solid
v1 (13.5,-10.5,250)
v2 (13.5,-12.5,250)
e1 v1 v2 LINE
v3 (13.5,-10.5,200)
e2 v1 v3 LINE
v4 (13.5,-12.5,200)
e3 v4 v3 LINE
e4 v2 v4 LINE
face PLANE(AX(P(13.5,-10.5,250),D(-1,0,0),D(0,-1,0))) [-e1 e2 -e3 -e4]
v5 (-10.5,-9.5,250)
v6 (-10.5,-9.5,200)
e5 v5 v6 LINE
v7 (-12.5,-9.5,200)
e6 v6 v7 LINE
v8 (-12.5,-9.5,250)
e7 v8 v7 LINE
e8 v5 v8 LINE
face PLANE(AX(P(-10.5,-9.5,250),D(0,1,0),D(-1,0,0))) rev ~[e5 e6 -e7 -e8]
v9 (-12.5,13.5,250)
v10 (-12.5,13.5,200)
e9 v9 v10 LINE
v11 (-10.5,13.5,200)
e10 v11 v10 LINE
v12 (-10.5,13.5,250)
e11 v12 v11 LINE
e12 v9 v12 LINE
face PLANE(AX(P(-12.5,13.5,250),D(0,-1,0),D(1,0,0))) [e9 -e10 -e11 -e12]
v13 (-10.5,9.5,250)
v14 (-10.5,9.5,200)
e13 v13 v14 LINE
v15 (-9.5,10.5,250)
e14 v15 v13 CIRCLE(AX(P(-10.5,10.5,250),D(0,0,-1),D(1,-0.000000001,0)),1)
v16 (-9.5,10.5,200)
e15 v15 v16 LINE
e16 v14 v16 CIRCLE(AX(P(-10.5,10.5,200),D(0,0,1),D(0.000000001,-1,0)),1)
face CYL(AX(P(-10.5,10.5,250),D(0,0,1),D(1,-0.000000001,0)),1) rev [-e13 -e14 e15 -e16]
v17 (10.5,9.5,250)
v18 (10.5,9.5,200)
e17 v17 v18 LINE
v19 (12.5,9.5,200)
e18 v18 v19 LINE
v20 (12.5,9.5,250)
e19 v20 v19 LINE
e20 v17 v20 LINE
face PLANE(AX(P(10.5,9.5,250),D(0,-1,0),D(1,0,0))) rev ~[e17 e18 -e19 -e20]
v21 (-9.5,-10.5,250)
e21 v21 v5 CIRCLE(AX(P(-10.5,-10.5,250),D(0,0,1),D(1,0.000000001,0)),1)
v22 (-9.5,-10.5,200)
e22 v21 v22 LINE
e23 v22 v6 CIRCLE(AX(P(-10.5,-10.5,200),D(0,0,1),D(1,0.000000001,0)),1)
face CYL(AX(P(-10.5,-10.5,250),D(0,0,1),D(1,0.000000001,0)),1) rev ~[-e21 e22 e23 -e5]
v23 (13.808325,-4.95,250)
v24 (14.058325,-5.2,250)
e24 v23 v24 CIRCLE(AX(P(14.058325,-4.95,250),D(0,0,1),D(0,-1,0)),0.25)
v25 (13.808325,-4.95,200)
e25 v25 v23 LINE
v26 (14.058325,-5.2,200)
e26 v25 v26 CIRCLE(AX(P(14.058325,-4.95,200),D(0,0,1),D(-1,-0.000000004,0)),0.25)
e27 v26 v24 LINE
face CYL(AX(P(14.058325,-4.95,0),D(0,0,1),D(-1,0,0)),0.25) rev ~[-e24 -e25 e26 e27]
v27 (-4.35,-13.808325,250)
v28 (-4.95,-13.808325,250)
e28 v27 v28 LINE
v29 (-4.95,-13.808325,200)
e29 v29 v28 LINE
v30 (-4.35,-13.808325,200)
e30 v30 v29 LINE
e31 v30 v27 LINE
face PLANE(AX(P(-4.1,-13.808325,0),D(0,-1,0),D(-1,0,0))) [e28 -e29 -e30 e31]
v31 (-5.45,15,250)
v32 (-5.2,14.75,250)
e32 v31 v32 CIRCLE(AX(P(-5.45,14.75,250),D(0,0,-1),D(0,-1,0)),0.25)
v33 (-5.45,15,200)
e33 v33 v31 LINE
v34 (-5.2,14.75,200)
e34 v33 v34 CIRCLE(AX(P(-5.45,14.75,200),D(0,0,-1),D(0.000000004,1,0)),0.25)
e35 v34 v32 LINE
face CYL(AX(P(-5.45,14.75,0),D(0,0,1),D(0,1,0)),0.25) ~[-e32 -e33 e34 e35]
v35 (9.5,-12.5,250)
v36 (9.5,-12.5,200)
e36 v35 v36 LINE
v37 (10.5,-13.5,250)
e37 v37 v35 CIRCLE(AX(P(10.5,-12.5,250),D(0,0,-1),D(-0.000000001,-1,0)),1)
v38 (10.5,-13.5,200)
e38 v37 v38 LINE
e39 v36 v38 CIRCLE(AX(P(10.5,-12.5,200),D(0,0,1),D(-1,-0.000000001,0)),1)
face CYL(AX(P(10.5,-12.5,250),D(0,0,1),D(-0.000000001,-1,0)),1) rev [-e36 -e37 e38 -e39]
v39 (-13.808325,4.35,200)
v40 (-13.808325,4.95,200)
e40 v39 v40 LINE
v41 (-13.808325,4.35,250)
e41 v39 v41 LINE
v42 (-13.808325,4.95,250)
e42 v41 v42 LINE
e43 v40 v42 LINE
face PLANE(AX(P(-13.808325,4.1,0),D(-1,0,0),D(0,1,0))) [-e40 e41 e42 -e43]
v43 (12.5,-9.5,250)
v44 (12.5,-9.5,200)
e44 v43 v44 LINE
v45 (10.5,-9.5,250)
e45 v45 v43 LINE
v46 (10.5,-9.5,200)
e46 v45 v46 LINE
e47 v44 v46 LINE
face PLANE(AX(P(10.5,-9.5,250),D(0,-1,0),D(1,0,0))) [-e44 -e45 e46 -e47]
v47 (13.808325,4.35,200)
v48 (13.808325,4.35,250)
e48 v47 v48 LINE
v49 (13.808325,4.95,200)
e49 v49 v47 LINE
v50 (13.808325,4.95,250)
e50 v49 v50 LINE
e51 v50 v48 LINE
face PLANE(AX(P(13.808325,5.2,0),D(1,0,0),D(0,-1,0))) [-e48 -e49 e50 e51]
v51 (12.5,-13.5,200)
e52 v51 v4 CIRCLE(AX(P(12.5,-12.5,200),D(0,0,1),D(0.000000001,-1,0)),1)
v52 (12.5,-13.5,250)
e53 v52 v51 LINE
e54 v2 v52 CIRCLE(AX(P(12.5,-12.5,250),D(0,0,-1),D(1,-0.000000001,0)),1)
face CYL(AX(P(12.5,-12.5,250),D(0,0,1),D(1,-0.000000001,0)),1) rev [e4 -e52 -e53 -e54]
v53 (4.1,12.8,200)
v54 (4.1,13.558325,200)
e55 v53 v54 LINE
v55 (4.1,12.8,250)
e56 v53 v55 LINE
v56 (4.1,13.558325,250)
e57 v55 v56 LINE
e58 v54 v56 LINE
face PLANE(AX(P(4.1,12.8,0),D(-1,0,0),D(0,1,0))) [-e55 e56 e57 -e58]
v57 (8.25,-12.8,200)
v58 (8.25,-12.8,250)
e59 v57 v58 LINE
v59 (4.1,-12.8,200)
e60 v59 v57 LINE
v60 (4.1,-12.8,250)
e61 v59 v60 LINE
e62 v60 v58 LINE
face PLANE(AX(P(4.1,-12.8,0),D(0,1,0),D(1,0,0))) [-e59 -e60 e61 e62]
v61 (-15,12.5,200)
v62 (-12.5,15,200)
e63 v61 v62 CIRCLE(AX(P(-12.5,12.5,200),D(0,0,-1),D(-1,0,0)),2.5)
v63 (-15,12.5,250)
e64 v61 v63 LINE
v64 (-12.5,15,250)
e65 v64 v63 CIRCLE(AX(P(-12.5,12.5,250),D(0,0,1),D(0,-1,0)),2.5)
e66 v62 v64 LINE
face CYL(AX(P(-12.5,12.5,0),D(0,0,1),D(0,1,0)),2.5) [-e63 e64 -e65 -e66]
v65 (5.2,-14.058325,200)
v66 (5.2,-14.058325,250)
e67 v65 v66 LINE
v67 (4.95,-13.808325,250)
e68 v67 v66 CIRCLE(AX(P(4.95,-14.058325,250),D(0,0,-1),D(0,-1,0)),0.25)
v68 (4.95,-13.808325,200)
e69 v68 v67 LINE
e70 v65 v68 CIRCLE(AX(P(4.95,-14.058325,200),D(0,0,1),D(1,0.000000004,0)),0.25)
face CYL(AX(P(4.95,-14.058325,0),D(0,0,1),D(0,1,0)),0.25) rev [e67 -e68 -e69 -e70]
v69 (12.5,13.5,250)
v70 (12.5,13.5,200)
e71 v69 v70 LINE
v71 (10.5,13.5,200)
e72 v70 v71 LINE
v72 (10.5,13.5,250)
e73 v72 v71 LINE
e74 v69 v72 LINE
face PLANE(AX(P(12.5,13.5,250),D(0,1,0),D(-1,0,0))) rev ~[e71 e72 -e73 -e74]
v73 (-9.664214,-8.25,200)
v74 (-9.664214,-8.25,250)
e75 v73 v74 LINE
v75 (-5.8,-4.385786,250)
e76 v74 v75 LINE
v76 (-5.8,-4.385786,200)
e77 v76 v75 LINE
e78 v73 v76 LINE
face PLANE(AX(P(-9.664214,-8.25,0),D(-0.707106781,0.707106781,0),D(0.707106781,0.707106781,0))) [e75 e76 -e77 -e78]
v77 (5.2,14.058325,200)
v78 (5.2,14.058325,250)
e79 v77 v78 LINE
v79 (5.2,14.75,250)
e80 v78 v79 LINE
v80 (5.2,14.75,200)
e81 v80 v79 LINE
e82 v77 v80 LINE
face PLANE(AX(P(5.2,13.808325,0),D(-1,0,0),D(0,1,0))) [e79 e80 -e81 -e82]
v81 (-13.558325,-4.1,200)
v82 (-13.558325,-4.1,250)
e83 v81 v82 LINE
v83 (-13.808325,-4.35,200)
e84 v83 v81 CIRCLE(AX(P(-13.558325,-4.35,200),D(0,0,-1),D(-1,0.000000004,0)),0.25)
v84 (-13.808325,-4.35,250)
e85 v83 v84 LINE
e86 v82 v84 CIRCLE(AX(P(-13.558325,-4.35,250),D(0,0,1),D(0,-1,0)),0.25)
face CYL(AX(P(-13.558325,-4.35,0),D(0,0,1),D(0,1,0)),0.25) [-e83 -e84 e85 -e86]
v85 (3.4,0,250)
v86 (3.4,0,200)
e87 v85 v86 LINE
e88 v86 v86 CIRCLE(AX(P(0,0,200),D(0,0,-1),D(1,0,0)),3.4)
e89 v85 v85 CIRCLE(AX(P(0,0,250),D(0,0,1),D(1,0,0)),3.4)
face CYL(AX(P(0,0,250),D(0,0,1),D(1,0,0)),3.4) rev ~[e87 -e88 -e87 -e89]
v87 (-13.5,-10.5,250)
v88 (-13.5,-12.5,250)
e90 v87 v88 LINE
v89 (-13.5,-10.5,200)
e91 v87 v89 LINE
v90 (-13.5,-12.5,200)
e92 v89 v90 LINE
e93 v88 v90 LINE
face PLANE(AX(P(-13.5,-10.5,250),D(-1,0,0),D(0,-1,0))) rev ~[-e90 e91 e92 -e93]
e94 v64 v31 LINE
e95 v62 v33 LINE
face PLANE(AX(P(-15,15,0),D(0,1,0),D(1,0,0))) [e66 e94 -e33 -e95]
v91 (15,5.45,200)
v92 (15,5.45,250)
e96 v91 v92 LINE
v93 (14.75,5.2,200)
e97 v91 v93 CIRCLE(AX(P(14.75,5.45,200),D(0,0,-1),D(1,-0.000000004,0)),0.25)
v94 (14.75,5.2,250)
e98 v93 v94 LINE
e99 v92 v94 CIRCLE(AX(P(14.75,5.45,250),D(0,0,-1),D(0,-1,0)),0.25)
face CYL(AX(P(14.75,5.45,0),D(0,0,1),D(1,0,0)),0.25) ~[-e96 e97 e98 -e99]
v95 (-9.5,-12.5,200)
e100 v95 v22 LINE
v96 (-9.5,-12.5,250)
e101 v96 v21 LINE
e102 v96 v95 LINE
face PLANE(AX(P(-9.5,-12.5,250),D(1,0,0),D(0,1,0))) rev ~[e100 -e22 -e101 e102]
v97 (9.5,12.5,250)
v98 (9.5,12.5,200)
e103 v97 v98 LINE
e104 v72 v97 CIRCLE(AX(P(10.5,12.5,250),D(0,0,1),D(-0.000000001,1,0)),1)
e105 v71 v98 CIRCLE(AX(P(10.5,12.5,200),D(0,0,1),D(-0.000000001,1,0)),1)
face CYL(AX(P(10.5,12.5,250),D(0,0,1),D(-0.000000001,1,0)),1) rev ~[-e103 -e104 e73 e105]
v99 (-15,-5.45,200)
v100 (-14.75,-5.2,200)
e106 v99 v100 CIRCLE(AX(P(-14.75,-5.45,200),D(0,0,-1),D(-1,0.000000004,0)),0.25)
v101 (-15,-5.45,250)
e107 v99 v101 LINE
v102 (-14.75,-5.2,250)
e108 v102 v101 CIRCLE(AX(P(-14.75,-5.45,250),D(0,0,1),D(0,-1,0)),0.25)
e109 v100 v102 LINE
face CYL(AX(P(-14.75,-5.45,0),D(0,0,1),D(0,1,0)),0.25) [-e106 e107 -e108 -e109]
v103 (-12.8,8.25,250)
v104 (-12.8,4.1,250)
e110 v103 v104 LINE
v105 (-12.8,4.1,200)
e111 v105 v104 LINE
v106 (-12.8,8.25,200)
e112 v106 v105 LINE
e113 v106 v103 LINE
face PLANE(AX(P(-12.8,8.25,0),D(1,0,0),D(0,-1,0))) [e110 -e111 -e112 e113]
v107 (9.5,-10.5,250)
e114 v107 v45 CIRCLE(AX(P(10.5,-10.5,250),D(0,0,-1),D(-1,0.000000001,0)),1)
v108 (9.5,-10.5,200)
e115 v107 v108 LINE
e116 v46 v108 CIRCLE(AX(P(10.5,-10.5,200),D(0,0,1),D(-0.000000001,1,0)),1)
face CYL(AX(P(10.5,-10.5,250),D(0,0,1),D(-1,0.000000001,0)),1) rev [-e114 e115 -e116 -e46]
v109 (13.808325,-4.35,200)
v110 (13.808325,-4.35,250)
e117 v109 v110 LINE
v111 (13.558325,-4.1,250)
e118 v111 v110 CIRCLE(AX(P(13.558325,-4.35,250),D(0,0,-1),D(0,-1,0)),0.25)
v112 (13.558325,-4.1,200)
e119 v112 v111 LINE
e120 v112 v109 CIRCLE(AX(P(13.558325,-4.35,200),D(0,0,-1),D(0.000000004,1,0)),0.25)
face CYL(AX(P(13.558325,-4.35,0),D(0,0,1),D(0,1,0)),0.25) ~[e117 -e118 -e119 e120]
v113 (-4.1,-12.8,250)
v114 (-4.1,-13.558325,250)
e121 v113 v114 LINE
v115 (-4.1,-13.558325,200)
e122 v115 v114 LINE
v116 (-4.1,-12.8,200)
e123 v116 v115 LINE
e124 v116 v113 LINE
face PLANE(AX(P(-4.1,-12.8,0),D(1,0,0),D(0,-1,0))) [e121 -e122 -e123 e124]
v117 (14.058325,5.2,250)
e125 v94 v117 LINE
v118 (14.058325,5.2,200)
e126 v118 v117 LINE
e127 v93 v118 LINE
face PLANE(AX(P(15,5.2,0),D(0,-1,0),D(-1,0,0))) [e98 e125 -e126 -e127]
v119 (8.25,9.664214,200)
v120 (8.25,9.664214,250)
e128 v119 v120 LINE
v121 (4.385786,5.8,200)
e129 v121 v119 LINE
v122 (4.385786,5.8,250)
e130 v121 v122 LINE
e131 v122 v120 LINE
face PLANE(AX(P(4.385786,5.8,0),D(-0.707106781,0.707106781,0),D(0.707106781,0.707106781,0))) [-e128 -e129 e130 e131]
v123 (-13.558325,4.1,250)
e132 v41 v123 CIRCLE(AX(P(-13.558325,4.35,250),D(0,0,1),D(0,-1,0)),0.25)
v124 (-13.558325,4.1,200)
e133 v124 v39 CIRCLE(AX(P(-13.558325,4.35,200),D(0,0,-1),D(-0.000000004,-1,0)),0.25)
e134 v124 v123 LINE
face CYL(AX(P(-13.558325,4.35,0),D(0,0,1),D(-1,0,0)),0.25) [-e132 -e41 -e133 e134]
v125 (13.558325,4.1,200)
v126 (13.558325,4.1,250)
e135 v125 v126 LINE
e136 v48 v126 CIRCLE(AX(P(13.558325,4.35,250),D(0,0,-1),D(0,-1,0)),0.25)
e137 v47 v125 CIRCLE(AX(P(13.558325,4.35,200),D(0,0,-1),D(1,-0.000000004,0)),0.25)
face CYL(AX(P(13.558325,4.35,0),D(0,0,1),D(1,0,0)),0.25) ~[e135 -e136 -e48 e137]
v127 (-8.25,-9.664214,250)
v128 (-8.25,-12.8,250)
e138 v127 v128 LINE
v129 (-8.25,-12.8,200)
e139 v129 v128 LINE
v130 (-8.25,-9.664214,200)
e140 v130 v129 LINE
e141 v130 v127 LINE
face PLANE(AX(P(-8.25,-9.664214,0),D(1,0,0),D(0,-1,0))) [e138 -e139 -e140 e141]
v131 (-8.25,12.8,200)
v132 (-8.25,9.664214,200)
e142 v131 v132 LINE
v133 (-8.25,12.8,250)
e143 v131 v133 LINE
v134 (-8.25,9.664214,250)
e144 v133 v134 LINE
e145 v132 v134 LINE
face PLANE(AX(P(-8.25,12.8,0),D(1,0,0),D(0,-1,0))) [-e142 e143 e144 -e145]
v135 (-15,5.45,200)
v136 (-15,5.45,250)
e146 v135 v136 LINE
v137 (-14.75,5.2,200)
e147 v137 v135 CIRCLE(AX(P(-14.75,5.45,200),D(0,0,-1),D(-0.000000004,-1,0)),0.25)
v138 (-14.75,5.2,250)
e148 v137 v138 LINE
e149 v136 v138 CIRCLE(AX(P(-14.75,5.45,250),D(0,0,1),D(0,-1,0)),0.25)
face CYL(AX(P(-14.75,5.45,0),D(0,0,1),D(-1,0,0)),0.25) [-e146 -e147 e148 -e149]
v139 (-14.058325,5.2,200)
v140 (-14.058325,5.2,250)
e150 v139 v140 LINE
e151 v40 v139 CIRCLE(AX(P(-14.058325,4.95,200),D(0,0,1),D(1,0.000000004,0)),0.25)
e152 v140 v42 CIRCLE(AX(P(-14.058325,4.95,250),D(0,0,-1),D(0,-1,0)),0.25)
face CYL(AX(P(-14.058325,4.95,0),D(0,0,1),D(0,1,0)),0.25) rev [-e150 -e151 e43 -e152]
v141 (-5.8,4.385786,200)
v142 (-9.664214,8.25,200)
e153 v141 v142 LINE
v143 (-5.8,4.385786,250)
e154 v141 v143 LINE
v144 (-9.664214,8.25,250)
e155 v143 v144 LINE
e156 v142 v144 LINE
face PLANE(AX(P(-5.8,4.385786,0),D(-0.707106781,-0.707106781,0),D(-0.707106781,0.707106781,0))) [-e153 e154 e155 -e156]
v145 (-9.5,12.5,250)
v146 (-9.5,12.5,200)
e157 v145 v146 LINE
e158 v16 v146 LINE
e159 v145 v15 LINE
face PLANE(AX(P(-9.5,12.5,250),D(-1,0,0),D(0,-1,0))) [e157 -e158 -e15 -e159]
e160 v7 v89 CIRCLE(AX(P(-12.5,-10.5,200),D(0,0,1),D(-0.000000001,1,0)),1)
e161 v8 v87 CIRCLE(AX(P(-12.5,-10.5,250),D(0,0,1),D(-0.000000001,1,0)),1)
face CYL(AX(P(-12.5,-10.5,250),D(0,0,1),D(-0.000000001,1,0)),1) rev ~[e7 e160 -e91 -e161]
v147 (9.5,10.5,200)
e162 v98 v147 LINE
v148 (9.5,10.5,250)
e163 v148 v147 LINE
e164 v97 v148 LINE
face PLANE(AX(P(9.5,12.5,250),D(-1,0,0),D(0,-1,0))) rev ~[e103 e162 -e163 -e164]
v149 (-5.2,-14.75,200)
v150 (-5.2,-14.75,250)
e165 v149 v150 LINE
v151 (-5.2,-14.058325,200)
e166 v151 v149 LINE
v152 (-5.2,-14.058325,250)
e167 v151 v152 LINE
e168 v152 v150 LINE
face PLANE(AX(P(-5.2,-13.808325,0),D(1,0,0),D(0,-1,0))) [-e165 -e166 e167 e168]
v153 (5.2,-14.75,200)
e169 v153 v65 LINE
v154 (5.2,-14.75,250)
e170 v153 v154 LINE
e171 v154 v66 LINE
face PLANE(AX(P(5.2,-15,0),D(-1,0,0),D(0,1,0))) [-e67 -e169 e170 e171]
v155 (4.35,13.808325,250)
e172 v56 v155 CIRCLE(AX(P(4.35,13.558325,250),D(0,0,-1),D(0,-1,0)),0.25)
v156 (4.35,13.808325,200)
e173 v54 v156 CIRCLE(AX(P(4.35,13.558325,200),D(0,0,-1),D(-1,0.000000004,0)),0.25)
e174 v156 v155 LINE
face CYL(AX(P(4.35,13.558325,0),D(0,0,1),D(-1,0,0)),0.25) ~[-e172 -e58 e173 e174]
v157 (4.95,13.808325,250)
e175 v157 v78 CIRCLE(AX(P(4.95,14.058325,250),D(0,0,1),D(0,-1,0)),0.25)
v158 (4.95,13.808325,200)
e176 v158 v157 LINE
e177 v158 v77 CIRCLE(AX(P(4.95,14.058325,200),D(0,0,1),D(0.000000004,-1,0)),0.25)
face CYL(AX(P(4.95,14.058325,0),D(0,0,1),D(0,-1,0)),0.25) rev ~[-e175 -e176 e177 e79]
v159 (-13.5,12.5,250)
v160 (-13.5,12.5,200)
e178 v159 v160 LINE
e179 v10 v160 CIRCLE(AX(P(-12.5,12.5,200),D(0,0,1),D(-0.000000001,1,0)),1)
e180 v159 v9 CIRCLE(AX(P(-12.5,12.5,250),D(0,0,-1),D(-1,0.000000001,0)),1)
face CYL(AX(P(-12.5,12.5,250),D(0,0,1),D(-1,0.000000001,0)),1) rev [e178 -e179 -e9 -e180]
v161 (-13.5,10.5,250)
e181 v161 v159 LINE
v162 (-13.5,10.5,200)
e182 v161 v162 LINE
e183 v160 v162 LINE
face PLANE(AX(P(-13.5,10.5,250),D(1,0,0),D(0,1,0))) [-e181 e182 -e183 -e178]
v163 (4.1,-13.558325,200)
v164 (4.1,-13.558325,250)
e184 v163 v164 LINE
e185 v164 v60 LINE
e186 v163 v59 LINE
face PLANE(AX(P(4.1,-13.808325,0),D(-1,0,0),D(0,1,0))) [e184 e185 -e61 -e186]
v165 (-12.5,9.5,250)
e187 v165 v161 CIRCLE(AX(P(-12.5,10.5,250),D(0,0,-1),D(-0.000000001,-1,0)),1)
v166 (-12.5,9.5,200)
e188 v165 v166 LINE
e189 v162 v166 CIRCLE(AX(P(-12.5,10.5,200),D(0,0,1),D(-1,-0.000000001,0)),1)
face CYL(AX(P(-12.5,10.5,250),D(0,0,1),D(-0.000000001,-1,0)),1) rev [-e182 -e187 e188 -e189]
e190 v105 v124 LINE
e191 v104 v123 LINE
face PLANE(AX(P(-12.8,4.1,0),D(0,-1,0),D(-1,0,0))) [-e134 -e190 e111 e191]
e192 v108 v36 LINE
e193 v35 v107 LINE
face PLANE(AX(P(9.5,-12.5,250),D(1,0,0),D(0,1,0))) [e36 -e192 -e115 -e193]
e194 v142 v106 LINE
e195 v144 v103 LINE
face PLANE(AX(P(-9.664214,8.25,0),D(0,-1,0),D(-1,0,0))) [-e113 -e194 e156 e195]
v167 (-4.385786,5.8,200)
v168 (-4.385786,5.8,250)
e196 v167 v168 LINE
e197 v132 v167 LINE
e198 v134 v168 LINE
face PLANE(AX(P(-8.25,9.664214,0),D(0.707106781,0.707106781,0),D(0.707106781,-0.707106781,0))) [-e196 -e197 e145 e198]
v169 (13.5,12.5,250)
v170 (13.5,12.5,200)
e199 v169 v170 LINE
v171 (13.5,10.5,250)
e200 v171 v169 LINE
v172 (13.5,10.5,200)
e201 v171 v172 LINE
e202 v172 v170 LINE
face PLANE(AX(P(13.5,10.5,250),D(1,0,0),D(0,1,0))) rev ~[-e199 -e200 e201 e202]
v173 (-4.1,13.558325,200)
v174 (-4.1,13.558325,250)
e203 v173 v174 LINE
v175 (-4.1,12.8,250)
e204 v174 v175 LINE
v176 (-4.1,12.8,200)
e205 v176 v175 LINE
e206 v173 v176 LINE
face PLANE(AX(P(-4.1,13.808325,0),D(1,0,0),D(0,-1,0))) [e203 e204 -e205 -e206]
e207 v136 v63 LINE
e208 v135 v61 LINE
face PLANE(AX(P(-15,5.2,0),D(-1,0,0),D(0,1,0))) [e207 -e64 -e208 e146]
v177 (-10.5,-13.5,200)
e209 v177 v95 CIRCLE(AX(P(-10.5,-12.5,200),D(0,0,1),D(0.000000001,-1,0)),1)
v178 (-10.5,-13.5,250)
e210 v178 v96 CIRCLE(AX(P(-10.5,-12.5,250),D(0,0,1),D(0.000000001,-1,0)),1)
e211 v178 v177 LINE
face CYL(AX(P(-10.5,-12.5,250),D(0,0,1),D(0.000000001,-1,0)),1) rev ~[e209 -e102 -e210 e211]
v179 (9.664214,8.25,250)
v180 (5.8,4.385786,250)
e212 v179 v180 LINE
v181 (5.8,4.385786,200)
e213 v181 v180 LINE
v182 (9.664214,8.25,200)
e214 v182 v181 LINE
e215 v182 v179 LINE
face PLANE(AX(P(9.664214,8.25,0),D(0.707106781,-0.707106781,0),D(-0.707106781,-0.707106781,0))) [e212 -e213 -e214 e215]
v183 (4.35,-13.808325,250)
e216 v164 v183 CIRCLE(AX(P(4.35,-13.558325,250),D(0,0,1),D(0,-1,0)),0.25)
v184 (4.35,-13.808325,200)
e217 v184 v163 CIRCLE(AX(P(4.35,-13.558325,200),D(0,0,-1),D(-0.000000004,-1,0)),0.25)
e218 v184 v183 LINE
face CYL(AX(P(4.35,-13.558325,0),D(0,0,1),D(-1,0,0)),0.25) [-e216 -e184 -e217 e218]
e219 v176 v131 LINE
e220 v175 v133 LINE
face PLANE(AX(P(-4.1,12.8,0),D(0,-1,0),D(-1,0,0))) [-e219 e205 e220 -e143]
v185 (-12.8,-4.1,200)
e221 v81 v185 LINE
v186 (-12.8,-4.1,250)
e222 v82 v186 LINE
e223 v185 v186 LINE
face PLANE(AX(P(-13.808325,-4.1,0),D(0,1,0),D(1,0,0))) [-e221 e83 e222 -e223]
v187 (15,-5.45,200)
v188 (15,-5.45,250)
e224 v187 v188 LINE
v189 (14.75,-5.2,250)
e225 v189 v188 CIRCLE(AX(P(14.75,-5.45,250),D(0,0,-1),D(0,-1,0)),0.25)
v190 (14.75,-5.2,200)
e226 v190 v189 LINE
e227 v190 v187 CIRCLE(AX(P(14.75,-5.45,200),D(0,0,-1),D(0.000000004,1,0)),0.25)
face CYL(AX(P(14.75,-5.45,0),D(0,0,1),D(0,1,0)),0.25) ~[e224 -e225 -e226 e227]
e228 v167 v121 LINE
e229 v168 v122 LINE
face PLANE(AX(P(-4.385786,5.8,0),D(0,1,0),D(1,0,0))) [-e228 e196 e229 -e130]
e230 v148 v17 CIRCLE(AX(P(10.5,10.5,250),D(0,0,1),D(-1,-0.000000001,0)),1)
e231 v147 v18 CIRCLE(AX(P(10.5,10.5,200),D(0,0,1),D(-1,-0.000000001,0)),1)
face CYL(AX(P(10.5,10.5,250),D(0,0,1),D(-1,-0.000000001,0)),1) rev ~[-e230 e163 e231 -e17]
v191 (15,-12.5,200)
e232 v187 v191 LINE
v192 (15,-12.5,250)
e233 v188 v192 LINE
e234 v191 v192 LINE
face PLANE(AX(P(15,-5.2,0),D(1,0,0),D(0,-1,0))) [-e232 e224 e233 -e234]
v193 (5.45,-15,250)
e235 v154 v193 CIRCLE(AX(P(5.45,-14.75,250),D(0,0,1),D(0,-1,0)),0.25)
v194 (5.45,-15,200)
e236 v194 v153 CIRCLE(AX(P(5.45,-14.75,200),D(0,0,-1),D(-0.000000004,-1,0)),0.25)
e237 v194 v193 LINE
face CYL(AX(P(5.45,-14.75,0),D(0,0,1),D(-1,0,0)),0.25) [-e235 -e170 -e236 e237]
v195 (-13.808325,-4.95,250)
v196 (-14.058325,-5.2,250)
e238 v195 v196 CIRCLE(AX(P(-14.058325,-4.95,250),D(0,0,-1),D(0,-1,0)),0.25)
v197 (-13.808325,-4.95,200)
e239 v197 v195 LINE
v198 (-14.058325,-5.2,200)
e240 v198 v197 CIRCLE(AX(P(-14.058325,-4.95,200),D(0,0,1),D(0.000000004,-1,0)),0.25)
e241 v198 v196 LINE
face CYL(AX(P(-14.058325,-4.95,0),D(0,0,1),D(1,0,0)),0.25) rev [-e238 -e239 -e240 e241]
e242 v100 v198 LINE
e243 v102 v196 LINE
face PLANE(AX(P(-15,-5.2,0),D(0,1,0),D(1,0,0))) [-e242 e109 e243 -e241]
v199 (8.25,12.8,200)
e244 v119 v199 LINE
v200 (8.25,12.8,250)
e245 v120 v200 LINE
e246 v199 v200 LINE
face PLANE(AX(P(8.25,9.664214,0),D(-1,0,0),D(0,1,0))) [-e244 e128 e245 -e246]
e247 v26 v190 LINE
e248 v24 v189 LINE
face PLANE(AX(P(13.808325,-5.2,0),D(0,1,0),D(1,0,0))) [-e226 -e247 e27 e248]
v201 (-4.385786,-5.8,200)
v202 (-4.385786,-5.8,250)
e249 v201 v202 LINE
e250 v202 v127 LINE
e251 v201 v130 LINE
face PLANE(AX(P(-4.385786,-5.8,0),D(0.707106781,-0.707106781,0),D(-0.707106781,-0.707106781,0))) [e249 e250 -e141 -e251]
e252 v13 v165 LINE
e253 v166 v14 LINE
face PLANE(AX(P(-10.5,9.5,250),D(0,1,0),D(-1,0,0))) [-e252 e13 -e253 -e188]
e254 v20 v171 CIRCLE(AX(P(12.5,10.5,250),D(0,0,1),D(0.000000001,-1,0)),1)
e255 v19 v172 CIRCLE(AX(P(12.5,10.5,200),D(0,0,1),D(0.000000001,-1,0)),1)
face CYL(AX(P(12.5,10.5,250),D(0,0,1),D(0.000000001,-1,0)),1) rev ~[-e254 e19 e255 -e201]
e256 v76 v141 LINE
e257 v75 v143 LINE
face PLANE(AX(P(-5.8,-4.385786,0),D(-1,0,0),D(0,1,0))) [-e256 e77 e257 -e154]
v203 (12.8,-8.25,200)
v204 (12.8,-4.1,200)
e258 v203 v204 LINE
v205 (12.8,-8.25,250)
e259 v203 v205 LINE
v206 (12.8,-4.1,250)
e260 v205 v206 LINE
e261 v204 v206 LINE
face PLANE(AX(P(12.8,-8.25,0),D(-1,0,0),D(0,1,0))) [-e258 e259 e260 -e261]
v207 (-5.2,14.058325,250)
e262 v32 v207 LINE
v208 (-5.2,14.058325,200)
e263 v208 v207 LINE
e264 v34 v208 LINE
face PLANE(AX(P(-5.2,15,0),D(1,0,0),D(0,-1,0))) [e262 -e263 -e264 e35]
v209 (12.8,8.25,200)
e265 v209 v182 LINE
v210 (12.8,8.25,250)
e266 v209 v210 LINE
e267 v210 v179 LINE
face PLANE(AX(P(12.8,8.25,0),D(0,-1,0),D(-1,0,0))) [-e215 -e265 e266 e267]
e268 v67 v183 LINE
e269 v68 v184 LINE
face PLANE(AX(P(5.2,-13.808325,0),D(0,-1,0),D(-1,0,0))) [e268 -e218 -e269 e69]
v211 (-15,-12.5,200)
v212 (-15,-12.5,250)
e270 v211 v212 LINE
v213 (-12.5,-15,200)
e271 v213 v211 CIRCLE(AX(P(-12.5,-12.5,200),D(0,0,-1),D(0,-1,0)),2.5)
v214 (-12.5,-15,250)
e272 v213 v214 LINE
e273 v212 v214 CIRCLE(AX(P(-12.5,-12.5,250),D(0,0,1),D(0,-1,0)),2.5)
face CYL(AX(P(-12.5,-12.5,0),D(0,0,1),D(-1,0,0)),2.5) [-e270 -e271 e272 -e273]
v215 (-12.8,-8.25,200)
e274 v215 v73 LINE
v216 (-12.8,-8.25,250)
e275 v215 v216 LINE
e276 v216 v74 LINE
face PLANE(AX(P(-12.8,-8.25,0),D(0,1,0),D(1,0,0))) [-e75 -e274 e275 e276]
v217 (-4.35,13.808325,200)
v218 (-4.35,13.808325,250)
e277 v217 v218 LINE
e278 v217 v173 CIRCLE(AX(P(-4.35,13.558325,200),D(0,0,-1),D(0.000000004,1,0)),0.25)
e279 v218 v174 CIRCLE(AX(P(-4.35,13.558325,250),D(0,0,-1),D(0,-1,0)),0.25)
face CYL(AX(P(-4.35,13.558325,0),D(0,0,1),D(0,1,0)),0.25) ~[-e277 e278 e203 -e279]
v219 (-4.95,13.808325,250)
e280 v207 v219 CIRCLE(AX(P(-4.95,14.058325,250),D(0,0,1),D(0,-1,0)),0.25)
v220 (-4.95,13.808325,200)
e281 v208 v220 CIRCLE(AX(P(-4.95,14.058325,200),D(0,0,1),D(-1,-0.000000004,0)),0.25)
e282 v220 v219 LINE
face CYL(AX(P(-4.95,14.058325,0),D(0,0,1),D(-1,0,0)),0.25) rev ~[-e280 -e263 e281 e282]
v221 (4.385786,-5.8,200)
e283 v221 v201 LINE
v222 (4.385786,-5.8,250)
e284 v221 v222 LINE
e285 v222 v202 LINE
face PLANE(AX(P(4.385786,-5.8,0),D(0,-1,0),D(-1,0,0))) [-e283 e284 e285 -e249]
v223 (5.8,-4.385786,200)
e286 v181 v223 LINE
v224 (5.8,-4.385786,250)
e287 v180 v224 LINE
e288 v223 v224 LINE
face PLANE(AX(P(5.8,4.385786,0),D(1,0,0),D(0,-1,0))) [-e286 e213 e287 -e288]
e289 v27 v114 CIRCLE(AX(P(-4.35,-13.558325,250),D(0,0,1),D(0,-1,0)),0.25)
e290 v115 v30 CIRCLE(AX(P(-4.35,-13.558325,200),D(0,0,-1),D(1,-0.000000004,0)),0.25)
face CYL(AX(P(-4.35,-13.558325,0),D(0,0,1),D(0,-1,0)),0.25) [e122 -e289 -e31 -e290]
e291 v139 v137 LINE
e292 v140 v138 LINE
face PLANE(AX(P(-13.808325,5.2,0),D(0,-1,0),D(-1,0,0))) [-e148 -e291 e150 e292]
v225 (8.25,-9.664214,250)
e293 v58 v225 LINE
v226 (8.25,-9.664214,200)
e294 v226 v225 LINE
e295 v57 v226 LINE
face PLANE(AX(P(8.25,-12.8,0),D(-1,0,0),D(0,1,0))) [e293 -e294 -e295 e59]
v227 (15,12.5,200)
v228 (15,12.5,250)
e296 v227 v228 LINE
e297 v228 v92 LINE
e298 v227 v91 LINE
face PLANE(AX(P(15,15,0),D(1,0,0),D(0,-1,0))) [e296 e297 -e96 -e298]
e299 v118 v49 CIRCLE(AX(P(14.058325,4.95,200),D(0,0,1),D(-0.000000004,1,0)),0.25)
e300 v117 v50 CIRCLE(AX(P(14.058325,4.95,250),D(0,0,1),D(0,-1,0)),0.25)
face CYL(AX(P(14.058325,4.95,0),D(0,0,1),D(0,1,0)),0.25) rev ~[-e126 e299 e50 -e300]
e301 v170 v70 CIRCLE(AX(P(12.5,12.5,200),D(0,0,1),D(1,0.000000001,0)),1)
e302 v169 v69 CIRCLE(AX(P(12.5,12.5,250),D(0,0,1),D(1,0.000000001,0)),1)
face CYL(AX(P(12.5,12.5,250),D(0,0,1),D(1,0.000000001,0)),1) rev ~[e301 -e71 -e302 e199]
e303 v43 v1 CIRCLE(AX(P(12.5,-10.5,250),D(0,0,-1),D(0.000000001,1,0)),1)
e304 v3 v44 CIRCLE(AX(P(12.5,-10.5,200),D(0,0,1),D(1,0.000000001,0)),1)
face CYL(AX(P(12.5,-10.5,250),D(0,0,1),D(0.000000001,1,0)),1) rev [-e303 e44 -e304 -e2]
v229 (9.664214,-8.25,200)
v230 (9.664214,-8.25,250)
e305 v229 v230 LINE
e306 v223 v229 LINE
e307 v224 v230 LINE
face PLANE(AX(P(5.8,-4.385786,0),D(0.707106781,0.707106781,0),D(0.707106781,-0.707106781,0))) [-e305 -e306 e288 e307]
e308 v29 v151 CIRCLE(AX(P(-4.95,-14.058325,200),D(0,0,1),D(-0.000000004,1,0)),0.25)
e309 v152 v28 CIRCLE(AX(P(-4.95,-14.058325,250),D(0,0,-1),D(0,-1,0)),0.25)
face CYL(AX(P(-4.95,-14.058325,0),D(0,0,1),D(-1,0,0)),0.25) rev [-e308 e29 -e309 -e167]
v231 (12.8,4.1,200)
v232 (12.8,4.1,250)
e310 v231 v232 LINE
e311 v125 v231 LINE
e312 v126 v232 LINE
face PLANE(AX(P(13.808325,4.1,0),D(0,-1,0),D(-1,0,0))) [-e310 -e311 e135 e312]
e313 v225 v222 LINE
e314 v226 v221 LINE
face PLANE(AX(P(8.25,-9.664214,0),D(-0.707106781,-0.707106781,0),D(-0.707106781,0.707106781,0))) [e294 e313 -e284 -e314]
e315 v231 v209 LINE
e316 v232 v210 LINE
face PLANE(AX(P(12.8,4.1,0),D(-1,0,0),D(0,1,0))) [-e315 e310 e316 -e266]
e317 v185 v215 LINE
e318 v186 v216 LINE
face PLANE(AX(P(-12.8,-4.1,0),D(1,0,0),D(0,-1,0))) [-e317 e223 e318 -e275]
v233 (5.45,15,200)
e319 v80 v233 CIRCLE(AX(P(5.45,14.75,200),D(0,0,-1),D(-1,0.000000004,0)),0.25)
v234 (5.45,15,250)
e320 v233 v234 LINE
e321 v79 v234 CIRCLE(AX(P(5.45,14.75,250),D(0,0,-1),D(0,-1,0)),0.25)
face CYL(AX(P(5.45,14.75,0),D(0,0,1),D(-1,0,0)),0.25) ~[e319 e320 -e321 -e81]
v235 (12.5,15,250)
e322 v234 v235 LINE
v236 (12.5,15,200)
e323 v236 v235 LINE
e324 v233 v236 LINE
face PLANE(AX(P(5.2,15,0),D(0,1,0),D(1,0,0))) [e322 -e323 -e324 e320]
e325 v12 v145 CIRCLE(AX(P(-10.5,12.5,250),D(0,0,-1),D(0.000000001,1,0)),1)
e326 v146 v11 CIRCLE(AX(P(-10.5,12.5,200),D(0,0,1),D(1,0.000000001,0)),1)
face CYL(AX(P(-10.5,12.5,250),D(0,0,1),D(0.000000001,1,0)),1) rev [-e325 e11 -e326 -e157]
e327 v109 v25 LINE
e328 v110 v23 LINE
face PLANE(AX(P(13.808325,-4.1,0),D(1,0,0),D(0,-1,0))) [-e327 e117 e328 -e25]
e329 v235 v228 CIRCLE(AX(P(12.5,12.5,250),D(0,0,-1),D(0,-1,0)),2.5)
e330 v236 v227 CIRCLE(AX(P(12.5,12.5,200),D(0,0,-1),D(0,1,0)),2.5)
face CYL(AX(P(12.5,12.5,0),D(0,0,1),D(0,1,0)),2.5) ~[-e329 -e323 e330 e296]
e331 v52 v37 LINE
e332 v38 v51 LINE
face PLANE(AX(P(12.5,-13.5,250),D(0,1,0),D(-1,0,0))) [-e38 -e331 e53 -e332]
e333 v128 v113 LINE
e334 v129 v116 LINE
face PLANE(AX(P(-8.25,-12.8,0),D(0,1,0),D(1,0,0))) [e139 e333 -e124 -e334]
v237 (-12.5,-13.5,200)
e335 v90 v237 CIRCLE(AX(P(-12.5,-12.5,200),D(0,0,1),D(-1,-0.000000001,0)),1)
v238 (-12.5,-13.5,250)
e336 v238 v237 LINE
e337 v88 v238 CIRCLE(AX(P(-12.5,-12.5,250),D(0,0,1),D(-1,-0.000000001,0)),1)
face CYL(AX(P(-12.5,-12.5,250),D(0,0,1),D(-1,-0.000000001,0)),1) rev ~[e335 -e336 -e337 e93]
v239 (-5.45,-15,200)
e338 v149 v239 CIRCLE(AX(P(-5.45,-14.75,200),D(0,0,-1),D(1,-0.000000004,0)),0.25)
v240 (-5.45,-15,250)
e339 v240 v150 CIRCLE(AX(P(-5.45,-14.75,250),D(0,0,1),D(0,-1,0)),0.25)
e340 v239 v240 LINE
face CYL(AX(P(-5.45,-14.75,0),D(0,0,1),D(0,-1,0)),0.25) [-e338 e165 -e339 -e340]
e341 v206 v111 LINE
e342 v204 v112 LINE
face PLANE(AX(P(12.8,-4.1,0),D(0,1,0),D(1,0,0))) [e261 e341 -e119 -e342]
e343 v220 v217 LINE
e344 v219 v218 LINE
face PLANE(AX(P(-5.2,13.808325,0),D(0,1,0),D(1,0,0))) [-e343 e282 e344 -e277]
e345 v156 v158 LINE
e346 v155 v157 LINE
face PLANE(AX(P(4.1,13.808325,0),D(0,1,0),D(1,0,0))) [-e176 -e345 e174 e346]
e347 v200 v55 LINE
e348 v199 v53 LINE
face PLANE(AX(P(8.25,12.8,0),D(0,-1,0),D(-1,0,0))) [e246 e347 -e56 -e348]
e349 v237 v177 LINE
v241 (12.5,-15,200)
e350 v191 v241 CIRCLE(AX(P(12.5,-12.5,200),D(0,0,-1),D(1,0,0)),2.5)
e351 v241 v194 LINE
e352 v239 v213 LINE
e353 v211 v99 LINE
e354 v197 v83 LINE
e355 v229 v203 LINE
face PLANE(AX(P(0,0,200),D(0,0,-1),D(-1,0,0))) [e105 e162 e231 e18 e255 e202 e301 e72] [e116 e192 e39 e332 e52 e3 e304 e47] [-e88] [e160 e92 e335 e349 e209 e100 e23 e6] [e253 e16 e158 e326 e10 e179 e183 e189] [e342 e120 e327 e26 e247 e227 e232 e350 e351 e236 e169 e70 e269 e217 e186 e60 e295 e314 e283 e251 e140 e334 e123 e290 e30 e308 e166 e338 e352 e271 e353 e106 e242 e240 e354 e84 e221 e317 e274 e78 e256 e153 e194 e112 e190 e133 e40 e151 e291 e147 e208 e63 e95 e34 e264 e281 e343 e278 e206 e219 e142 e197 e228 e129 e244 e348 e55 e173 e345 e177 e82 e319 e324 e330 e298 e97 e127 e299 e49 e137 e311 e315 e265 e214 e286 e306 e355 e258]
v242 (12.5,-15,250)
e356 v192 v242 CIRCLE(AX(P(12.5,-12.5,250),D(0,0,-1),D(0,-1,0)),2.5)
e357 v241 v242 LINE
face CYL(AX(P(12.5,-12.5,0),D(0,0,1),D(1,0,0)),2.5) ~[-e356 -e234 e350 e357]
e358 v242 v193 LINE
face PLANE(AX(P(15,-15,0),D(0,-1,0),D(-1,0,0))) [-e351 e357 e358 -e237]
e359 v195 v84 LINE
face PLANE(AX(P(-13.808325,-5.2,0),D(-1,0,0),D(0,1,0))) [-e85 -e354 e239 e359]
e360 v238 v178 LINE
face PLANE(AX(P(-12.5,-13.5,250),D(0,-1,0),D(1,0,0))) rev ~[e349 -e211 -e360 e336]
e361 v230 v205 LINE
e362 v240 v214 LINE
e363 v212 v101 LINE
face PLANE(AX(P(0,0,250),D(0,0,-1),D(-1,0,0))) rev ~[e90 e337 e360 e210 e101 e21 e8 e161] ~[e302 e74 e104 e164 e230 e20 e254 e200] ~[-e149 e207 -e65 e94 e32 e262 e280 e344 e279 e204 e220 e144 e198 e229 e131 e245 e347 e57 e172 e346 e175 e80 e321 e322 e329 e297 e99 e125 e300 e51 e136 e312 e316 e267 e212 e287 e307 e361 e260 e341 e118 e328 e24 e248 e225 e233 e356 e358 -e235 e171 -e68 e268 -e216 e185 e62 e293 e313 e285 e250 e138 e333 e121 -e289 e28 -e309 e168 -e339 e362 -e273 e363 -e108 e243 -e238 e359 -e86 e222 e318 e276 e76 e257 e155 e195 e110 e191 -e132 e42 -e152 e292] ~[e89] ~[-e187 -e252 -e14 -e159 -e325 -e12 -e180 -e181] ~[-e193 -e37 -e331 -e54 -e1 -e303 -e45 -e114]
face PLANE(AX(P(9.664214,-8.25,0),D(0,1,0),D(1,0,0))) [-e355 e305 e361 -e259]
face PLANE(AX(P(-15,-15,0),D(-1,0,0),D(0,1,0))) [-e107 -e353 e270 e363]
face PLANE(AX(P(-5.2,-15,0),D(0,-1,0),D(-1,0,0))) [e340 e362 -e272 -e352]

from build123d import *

# Parameters (mm, degrees)
BOSS_EXTRUDE1_DEPTH = 250
SKETCH2_R           = 3.4
CUT_EXTRUDE1_DEPTH  = 251.898385806
FILLET1_R           = 2.5
FILLET2_R           = 0.25
CUT_EXTRUDE3_START  = -200
SKETCH3_R           = 3.4
CUT_EXTRUDE3_DEPTH  = 200


with BuildPart() as part:
    # Sketch1 → Boss-Extrude1 (new body)
    with BuildSketch(Plane.XY):
        Polygon((-15, 15), (-5.2, 15), (-5.2, 13.808325472), (-4.1, 13.808325472), (-4.1, 12.8), (-8.25, 12.8), (-8.25, 9.664213562), (-4.385786438, 5.8), (4.385786438, 5.8), (8.25, 9.664213562), (8.25, 12.8), (4.1, 12.8), (4.1, 13.808325472), (5.2, 13.808325472), (5.2, 15), (15, 15), (15, 5.2), (13.808325472, 5.2), (13.808325472, 4.1), (12.8, 4.1), (12.8, 8.25), (9.664213562, 8.25), (5.8, 4.385786438), (5.8, -4.385786438), (9.664213562, -8.25), (12.8, -8.25), (12.8, -4.1), (13.808325472, -4.1), (13.808325472, -5.2), (15, -5.2), (15, -15), (5.2, -15), (5.2, -13.808325472), (4.1, -13.808325472), (4.1, -12.8), (8.25, -12.8), (8.25, -9.664213562), (4.385786438, -5.8), (-4.385786438, -5.8), (-8.25, -9.664213562), (-8.25, -12.8), (-4.1, -12.8), (-4.1, -13.808325472), (-5.2, -13.808325472), (-5.2, -15), (-15, -15), (-15, -5.2), (-13.808325472, -5.2), (-13.808325472, -4.1), (-12.8, -4.1), (-12.8, -8.25), (-9.664213562, -8.25), (-5.8, -4.385786438), (-5.8, 4.385786438), (-9.664213562, 8.25), (-12.8, 8.25), (-12.8, 4.1), (-13.808325472, 4.1), (-13.808325472, 5.2), (-15, 5.2), align=None)
    extrude(amount=BOSS_EXTRUDE1_DEPTH)

    # Sketch2 → Cut-Extrude1 (cut, through all)
    with BuildSketch(Plane.XY.offset(250)):
        Circle(SKETCH2_R)
        with BuildLine():
            Line((-12.5, 13.5), (-10.5, 13.5))
            ThreePointArc((-10.5, 13.5), (-9.792893219, 13.207106781), (-9.5, 12.5))
            Line((-9.5, 12.5), (-9.5, 10.5))
            ThreePointArc((-9.5, 10.5), (-9.792893219, 9.792893219), (-10.5, 9.5))
            Line((-10.5, 9.5), (-12.5, 9.5))
            ThreePointArc((-12.5, 9.5), (-13.207106781, 9.792893219), (-13.5, 10.5))
            Line((-13.5, 10.5), (-13.5, 12.5))
            ThreePointArc((-13.5, 12.5), (-13.207106781, 13.207106781), (-12.5, 13.5))
        make_face()
        with BuildLine():
            Line((9.5, 12.5), (9.5, 10.5))
            ThreePointArc((9.5, 10.5), (9.792893219, 9.792893219), (10.5, 9.5))
            Line((10.5, 9.5), (12.5, 9.5))
            ThreePointArc((12.5, 9.5), (13.207106781, 9.792893219), (13.5, 10.5))
            Line((13.5, 10.5), (13.5, 12.5))
            ThreePointArc((13.5, 12.5), (13.207106781, 13.207106781), (12.5, 13.5))
            Line((12.5, 13.5), (10.5, 13.5))
            ThreePointArc((10.5, 13.5), (9.792893219, 13.207106781), (9.5, 12.5))
        make_face()
        with BuildLine():
            Line((12.5, -13.5), (10.5, -13.5))
            ThreePointArc((10.5, -13.5), (9.792893219, -13.207106781), (9.5, -12.5))
            Line((9.5, -12.5), (9.5, -10.5))
            ThreePointArc((9.5, -10.5), (9.792893219, -9.792893219), (10.5, -9.5))
            Line((10.5, -9.5), (12.5, -9.5))
            ThreePointArc((12.5, -9.5), (13.207106781, -9.792893219), (13.5, -10.5))
            Line((13.5, -10.5), (13.5, -12.5))
            ThreePointArc((13.5, -12.5), (13.207106781, -13.207106781), (12.5, -13.5))
        make_face()
        with BuildLine():
            Line((-9.5, -12.5), (-9.5, -10.5))
            ThreePointArc((-9.5, -10.5), (-9.792893219, -9.792893219), (-10.5, -9.5))
            Line((-10.5, -9.5), (-12.5, -9.5))
            ThreePointArc((-12.5, -9.5), (-13.207106781, -9.792893219), (-13.5, -10.5))
            Line((-13.5, -10.5), (-13.5, -12.5))
            ThreePointArc((-13.5, -12.5), (-13.207106781, -13.207106781), (-12.5, -13.5))
            Line((-12.5, -13.5), (-10.5, -13.5))
            ThreePointArc((-10.5, -13.5), (-9.792893219, -13.207106781), (-9.5, -12.5))
        make_face()
    extrude(amount=-CUT_EXTRUDE1_DEPTH, mode=Mode.SUBTRACT)

    # Fillet1
    fillet1_edges = [part.edges().sort_by_distance(p)[0] for p in [
        (15, -15, 125),
        (-15, -15, 125),
        (-15, 15, 125),
        (15, 15, 125),
    ]]
    fillet(fillet1_edges, radius=FILLET1_R)

    # Fillet2
    fillet2_edges = [part.edges().sort_by_distance(p)[0] for p in [
        (5.2, -15, 125),
        (5.2, -13.808325472, 125),
        (4.1, -13.808325472, 125),
        (-4.1, -13.808325472, 125),
        (-5.2, -13.808325472, 125),
        (-5.2, -15, 125),
        (-15, -5.2, 125),
        (-13.808325472, -5.2, 125),
        (-13.808325472, -4.1, 125),
        (-13.808325472, 4.1, 125),
        (-13.808325472, 5.2, 125),
        (-15, 5.2, 125),
        (-5.2, 15, 125),
        (-5.2, 13.808325472, 125),
        (-4.1, 13.808325472, 125),
        (4.1, 13.808325472, 125),
        (5.2, 13.808325472, 125),
        (5.2, 15, 125),
        (15, 5.2, 125),
        (13.808325472, 5.2, 125),
        (13.808325472, 4.1, 125),
        (13.808325472, -4.1, 125),
        (13.808325472, -5.2, 125),
        (15, -5.2, 125),
    ]]
    fillet(fillet2_edges, radius=FILLET2_R)

    # Sketch3 → Cut-Extrude3 (cut)
    with BuildSketch(Plane(origin=(0, 0, 0), x_dir=(-1, 0, 0), z_dir=(0, 0, -1)).offset(CUT_EXTRUDE3_START)):
        with BuildLine():
            Line((12.8, 4.1), (13.558325472, 4.1))
            ThreePointArc((13.558325472, 4.1), (13.735102167, 4.173223305), (13.808325472, 4.35))
            Line((13.808325472, 4.35), (13.808325472, 4.95))
            ThreePointArc((13.808325472, 4.95), (13.881548777, 5.126776695), (14.058325472, 5.2))
            Line((14.058325472, 5.2), (14.75, 5.2))
            ThreePointArc((14.75, 5.2), (14.926776695, 5.273223305), (15, 5.45))
            Line((15, 5.45), (15, 12.5))
            ThreePointArc((15, 12.5), (14.267766953, 14.267766953), (12.5, 15))
            Line((12.5, 15), (5.45, 15))
            ThreePointArc((5.45, 15), (5.273223305, 14.926776695), (5.2, 14.75))
            Line((5.2, 14.75), (5.2, 14.058325472))
            ThreePointArc((5.2, 14.058325472), (5.126776695, 13.881548777), (4.95, 13.808325472))
            Line((4.95, 13.808325472), (4.35, 13.808325472))
            ThreePointArc((4.35, 13.808325472), (4.173223305, 13.735102167), (4.1, 13.558325472))
            Line((4.1, 13.558325472), (4.1, 12.8))
            Line((4.1, 12.8), (8.25, 12.8))
            Line((8.25, 12.8), (8.25, 9.664213562))
            Line((8.25, 9.664213562), (4.385786438, 5.8))
            Line((4.385786438, 5.8), (-4.385786438, 5.8))
            Line((-4.385786438, 5.8), (-8.25, 9.664213562))
            Line((-8.25, 9.664213562), (-8.25, 12.8))
            Line((-8.25, 12.8), (-4.1, 12.8))
            Line((-4.1, 12.8), (-4.1, 13.558325472))
            ThreePointArc((-4.1, 13.558325472), (-4.173223305, 13.735102167), (-4.35, 13.808325472))
            Line((-4.35, 13.808325472), (-4.95, 13.808325472))
            ThreePointArc((-4.95, 13.808325472), (-5.126776695, 13.881548777), (-5.2, 14.058325472))
            Line((-5.2, 14.058325472), (-5.2, 14.75))
            ThreePointArc((-5.2, 14.75), (-5.273223305, 14.926776695), (-5.45, 15))
            Line((-5.45, 15), (-12.5, 15))
            ThreePointArc((-12.5, 15), (-14.267766953, 14.267766953), (-15, 12.5))
            Line((-15, 12.5), (-15, 5.45))
            ThreePointArc((-15, 5.45), (-14.926776695, 5.273223305), (-14.75, 5.2))
            Line((-14.75, 5.2), (-14.058325472, 5.2))
            ThreePointArc((-14.058325472, 5.2), (-13.881548777, 5.126776695), (-13.808325472, 4.95))
            Line((-13.808325472, 4.95), (-13.808325472, 4.35))
            ThreePointArc((-13.808325472, 4.35), (-13.735102167, 4.173223305), (-13.558325472, 4.1))
            Line((-13.558325472, 4.1), (-12.8, 4.1))
            Line((-12.8, 4.1), (-12.8, 8.25))
            Line((-12.8, 8.25), (-9.664213562, 8.25))
            Line((-9.664213562, 8.25), (-5.8, 4.385786438))
            Line((-5.8, 4.385786438), (-5.8, -4.385786438))
            Line((-5.8, -4.385786438), (-9.664213562, -8.25))
            Line((-9.664213562, -8.25), (-12.8, -8.25))
            Line((-12.8, -8.25), (-12.8, -4.1))
            Line((-12.8, -4.1), (-13.558325472, -4.1))
            ThreePointArc((-13.558325472, -4.1), (-13.735102167, -4.173223305), (-13.808325472, -4.35))
            Line((-13.808325472, -4.35), (-13.808325472, -4.95))
            ThreePointArc((-13.808325472, -4.95), (-13.881548777, -5.126776695), (-14.058325472, -5.2))
            Line((-14.058325472, -5.2), (-14.75, -5.2))
            ThreePointArc((-14.75, -5.2), (-14.926776695, -5.273223305), (-15, -5.45))
            Line((-15, -5.45), (-15, -12.5))
            ThreePointArc((-15, -12.5), (-14.267766953, -14.267766953), (-12.5, -15))
            Line((-12.5, -15), (-5.45, -15))
            ThreePointArc((-5.45, -15), (-5.273223305, -14.926776695), (-5.2, -14.75))
            Line((-5.2, -14.75), (-5.2, -14.058325472))
            ThreePointArc((-5.2, -14.058325472), (-5.126776695, -13.881548777), (-4.95, -13.808325472))
            Line((-4.95, -13.808325472), (-4.35, -13.808325472))
            ThreePointArc((-4.35, -13.808325472), (-4.173223305, -13.735102167), (-4.1, -13.558325472))
            Line((-4.1, -13.558325472), (-4.1, -12.8))
            Line((-4.1, -12.8), (-8.25, -12.8))
            Line((-8.25, -12.8), (-8.25, -9.664213562))
            Line((-8.25, -9.664213562), (-4.385786438, -5.8))
            Line((-4.385786438, -5.8), (4.385786438, -5.8))
            Line((4.385786438, -5.8), (8.25, -9.664213562))
            Line((8.25, -9.664213562), (8.25, -12.8))
            Line((8.25, -12.8), (4.1, -12.8))
            Line((4.1, -12.8), (4.1, -13.558325472))
            ThreePointArc((4.1, -13.558325472), (4.173223305, -13.735102167), (4.35, -13.808325472))
            Line((4.35, -13.808325472), (4.95, -13.808325472))
            ThreePointArc((4.95, -13.808325472), (5.126776695, -13.881548777), (5.2, -14.058325472))
            Line((5.2, -14.058325472), (5.2, -14.75))
            ThreePointArc((5.2, -14.75), (5.273223305, -14.926776695), (5.45, -15))
            Line((5.45, -15), (12.5, -15))
            ThreePointArc((12.5, -15), (14.267766953, -14.267766953), (15, -12.5))
            Line((15, -12.5), (15, -5.45))
            ThreePointArc((15, -5.45), (14.926776695, -5.273223305), (14.75, -5.2))
            Line((14.75, -5.2), (14.058325472, -5.2))
            ThreePointArc((14.058325472, -5.2), (13.881548777, -5.126776695), (13.808325472, -4.95))
            Line((13.808325472, -4.95), (13.808325472, -4.35))
            ThreePointArc((13.808325472, -4.35), (13.735102167, -4.173223305), (13.558325472, -4.1))
            Line((13.558325472, -4.1), (12.8, -4.1))
            Line((12.8, -4.1), (12.8, -8.25))
            Line((12.8, -8.25), (9.664213562, -8.25))
            Line((9.664213562, -8.25), (5.8, -4.385786438))
            Line((5.8, -4.385786438), (5.8, 4.385786438))
            Line((5.8, 4.385786438), (9.664213562, 8.25))
            Line((9.664213562, 8.25), (12.8, 8.25))
            Line((12.8, 8.25), (12.8, 4.1))
        make_face()
        with Locations(Location((0, 0, 0), (0, 0, 180))):
            Circle(SKETCH3_R, mode=Mode.SUBTRACT)
        with BuildLine():
            Line((-9.5, 12.5), (-9.5, 10.5))
            ThreePointArc((-9.5, 10.5), (-9.792893219, 9.792893219), (-10.5, 9.5))
            Line((-10.5, 9.5), (-12.5, 9.5))
            ThreePointArc((-12.5, 9.5), (-13.207106781, 9.792893219), (-13.5, 10.5))
            Line((-13.5, 10.5), (-13.5, 12.5))
            ThreePointArc((-13.5, 12.5), (-13.207106781, 13.207106781), (-12.5, 13.5))
            Line((-12.5, 13.5), (-10.5, 13.5))
            ThreePointArc((-10.5, 13.5), (-9.792893219, 13.207106781), (-9.5, 12.5))
        make_face(mode=Mode.SUBTRACT)
        with BuildLine():
            Line((12.5, 9.5), (10.5, 9.5))
            ThreePointArc((10.5, 9.5), (9.792893219, 9.792893219), (9.5, 10.5))
            Line((9.5, 10.5), (9.5, 12.5))
            ThreePointArc((9.5, 12.5), (9.792893219, 13.207106781), (10.5, 13.5))
            Line((10.5, 13.5), (12.5, 13.5))
            ThreePointArc((12.5, 13.5), (13.207106781, 13.207106781), (13.5, 12.5))
            Line((13.5, 12.5), (13.5, 10.5))
            ThreePointArc((13.5, 10.5), (13.207106781, 9.792893219), (12.5, 9.5))
        make_face(mode=Mode.SUBTRACT)
        with BuildLine():
            Line((9.5, -12.5), (9.5, -10.5))
            ThreePointArc((9.5, -10.5), (9.792893219, -9.792893219), (10.5, -9.5))
            Line((10.5, -9.5), (12.5, -9.5))
            ThreePointArc((12.5, -9.5), (13.207106781, -9.792893219), (13.5, -10.5))
            Line((13.5, -10.5), (13.5, -12.5))
            ThreePointArc((13.5, -12.5), (13.207106781, -13.207106781), (12.5, -13.5))
            Line((12.5, -13.5), (10.5, -13.5))
            ThreePointArc((10.5, -13.5), (9.792893219, -13.207106781), (9.5, -12.5))
        make_face(mode=Mode.SUBTRACT)
        with BuildLine():
            Line((-9.5, -10.5), (-9.5, -12.5))
            ThreePointArc((-9.5, -12.5), (-9.792893219, -13.207106781), (-10.5, -13.5))
            Line((-10.5, -13.5), (-12.5, -13.5))
            ThreePointArc((-12.5, -13.5), (-13.207106781, -13.207106781), (-13.5, -12.5))
            Line((-13.5, -12.5), (-13.5, -10.5))
            ThreePointArc((-13.5, -10.5), (-13.207106781, -9.792893219), (-12.5, -9.5))
            Line((-12.5, -9.5), (-10.5, -9.5))
            ThreePointArc((-10.5, -9.5), (-9.792893219, -9.792893219), (-9.5, -10.5))
        make_face(mode=Mode.SUBTRACT)
    extrude(amount=CUT_EXTRUDE3_DEPTH, mode=Mode.SUBTRACT)


solid = part.part
